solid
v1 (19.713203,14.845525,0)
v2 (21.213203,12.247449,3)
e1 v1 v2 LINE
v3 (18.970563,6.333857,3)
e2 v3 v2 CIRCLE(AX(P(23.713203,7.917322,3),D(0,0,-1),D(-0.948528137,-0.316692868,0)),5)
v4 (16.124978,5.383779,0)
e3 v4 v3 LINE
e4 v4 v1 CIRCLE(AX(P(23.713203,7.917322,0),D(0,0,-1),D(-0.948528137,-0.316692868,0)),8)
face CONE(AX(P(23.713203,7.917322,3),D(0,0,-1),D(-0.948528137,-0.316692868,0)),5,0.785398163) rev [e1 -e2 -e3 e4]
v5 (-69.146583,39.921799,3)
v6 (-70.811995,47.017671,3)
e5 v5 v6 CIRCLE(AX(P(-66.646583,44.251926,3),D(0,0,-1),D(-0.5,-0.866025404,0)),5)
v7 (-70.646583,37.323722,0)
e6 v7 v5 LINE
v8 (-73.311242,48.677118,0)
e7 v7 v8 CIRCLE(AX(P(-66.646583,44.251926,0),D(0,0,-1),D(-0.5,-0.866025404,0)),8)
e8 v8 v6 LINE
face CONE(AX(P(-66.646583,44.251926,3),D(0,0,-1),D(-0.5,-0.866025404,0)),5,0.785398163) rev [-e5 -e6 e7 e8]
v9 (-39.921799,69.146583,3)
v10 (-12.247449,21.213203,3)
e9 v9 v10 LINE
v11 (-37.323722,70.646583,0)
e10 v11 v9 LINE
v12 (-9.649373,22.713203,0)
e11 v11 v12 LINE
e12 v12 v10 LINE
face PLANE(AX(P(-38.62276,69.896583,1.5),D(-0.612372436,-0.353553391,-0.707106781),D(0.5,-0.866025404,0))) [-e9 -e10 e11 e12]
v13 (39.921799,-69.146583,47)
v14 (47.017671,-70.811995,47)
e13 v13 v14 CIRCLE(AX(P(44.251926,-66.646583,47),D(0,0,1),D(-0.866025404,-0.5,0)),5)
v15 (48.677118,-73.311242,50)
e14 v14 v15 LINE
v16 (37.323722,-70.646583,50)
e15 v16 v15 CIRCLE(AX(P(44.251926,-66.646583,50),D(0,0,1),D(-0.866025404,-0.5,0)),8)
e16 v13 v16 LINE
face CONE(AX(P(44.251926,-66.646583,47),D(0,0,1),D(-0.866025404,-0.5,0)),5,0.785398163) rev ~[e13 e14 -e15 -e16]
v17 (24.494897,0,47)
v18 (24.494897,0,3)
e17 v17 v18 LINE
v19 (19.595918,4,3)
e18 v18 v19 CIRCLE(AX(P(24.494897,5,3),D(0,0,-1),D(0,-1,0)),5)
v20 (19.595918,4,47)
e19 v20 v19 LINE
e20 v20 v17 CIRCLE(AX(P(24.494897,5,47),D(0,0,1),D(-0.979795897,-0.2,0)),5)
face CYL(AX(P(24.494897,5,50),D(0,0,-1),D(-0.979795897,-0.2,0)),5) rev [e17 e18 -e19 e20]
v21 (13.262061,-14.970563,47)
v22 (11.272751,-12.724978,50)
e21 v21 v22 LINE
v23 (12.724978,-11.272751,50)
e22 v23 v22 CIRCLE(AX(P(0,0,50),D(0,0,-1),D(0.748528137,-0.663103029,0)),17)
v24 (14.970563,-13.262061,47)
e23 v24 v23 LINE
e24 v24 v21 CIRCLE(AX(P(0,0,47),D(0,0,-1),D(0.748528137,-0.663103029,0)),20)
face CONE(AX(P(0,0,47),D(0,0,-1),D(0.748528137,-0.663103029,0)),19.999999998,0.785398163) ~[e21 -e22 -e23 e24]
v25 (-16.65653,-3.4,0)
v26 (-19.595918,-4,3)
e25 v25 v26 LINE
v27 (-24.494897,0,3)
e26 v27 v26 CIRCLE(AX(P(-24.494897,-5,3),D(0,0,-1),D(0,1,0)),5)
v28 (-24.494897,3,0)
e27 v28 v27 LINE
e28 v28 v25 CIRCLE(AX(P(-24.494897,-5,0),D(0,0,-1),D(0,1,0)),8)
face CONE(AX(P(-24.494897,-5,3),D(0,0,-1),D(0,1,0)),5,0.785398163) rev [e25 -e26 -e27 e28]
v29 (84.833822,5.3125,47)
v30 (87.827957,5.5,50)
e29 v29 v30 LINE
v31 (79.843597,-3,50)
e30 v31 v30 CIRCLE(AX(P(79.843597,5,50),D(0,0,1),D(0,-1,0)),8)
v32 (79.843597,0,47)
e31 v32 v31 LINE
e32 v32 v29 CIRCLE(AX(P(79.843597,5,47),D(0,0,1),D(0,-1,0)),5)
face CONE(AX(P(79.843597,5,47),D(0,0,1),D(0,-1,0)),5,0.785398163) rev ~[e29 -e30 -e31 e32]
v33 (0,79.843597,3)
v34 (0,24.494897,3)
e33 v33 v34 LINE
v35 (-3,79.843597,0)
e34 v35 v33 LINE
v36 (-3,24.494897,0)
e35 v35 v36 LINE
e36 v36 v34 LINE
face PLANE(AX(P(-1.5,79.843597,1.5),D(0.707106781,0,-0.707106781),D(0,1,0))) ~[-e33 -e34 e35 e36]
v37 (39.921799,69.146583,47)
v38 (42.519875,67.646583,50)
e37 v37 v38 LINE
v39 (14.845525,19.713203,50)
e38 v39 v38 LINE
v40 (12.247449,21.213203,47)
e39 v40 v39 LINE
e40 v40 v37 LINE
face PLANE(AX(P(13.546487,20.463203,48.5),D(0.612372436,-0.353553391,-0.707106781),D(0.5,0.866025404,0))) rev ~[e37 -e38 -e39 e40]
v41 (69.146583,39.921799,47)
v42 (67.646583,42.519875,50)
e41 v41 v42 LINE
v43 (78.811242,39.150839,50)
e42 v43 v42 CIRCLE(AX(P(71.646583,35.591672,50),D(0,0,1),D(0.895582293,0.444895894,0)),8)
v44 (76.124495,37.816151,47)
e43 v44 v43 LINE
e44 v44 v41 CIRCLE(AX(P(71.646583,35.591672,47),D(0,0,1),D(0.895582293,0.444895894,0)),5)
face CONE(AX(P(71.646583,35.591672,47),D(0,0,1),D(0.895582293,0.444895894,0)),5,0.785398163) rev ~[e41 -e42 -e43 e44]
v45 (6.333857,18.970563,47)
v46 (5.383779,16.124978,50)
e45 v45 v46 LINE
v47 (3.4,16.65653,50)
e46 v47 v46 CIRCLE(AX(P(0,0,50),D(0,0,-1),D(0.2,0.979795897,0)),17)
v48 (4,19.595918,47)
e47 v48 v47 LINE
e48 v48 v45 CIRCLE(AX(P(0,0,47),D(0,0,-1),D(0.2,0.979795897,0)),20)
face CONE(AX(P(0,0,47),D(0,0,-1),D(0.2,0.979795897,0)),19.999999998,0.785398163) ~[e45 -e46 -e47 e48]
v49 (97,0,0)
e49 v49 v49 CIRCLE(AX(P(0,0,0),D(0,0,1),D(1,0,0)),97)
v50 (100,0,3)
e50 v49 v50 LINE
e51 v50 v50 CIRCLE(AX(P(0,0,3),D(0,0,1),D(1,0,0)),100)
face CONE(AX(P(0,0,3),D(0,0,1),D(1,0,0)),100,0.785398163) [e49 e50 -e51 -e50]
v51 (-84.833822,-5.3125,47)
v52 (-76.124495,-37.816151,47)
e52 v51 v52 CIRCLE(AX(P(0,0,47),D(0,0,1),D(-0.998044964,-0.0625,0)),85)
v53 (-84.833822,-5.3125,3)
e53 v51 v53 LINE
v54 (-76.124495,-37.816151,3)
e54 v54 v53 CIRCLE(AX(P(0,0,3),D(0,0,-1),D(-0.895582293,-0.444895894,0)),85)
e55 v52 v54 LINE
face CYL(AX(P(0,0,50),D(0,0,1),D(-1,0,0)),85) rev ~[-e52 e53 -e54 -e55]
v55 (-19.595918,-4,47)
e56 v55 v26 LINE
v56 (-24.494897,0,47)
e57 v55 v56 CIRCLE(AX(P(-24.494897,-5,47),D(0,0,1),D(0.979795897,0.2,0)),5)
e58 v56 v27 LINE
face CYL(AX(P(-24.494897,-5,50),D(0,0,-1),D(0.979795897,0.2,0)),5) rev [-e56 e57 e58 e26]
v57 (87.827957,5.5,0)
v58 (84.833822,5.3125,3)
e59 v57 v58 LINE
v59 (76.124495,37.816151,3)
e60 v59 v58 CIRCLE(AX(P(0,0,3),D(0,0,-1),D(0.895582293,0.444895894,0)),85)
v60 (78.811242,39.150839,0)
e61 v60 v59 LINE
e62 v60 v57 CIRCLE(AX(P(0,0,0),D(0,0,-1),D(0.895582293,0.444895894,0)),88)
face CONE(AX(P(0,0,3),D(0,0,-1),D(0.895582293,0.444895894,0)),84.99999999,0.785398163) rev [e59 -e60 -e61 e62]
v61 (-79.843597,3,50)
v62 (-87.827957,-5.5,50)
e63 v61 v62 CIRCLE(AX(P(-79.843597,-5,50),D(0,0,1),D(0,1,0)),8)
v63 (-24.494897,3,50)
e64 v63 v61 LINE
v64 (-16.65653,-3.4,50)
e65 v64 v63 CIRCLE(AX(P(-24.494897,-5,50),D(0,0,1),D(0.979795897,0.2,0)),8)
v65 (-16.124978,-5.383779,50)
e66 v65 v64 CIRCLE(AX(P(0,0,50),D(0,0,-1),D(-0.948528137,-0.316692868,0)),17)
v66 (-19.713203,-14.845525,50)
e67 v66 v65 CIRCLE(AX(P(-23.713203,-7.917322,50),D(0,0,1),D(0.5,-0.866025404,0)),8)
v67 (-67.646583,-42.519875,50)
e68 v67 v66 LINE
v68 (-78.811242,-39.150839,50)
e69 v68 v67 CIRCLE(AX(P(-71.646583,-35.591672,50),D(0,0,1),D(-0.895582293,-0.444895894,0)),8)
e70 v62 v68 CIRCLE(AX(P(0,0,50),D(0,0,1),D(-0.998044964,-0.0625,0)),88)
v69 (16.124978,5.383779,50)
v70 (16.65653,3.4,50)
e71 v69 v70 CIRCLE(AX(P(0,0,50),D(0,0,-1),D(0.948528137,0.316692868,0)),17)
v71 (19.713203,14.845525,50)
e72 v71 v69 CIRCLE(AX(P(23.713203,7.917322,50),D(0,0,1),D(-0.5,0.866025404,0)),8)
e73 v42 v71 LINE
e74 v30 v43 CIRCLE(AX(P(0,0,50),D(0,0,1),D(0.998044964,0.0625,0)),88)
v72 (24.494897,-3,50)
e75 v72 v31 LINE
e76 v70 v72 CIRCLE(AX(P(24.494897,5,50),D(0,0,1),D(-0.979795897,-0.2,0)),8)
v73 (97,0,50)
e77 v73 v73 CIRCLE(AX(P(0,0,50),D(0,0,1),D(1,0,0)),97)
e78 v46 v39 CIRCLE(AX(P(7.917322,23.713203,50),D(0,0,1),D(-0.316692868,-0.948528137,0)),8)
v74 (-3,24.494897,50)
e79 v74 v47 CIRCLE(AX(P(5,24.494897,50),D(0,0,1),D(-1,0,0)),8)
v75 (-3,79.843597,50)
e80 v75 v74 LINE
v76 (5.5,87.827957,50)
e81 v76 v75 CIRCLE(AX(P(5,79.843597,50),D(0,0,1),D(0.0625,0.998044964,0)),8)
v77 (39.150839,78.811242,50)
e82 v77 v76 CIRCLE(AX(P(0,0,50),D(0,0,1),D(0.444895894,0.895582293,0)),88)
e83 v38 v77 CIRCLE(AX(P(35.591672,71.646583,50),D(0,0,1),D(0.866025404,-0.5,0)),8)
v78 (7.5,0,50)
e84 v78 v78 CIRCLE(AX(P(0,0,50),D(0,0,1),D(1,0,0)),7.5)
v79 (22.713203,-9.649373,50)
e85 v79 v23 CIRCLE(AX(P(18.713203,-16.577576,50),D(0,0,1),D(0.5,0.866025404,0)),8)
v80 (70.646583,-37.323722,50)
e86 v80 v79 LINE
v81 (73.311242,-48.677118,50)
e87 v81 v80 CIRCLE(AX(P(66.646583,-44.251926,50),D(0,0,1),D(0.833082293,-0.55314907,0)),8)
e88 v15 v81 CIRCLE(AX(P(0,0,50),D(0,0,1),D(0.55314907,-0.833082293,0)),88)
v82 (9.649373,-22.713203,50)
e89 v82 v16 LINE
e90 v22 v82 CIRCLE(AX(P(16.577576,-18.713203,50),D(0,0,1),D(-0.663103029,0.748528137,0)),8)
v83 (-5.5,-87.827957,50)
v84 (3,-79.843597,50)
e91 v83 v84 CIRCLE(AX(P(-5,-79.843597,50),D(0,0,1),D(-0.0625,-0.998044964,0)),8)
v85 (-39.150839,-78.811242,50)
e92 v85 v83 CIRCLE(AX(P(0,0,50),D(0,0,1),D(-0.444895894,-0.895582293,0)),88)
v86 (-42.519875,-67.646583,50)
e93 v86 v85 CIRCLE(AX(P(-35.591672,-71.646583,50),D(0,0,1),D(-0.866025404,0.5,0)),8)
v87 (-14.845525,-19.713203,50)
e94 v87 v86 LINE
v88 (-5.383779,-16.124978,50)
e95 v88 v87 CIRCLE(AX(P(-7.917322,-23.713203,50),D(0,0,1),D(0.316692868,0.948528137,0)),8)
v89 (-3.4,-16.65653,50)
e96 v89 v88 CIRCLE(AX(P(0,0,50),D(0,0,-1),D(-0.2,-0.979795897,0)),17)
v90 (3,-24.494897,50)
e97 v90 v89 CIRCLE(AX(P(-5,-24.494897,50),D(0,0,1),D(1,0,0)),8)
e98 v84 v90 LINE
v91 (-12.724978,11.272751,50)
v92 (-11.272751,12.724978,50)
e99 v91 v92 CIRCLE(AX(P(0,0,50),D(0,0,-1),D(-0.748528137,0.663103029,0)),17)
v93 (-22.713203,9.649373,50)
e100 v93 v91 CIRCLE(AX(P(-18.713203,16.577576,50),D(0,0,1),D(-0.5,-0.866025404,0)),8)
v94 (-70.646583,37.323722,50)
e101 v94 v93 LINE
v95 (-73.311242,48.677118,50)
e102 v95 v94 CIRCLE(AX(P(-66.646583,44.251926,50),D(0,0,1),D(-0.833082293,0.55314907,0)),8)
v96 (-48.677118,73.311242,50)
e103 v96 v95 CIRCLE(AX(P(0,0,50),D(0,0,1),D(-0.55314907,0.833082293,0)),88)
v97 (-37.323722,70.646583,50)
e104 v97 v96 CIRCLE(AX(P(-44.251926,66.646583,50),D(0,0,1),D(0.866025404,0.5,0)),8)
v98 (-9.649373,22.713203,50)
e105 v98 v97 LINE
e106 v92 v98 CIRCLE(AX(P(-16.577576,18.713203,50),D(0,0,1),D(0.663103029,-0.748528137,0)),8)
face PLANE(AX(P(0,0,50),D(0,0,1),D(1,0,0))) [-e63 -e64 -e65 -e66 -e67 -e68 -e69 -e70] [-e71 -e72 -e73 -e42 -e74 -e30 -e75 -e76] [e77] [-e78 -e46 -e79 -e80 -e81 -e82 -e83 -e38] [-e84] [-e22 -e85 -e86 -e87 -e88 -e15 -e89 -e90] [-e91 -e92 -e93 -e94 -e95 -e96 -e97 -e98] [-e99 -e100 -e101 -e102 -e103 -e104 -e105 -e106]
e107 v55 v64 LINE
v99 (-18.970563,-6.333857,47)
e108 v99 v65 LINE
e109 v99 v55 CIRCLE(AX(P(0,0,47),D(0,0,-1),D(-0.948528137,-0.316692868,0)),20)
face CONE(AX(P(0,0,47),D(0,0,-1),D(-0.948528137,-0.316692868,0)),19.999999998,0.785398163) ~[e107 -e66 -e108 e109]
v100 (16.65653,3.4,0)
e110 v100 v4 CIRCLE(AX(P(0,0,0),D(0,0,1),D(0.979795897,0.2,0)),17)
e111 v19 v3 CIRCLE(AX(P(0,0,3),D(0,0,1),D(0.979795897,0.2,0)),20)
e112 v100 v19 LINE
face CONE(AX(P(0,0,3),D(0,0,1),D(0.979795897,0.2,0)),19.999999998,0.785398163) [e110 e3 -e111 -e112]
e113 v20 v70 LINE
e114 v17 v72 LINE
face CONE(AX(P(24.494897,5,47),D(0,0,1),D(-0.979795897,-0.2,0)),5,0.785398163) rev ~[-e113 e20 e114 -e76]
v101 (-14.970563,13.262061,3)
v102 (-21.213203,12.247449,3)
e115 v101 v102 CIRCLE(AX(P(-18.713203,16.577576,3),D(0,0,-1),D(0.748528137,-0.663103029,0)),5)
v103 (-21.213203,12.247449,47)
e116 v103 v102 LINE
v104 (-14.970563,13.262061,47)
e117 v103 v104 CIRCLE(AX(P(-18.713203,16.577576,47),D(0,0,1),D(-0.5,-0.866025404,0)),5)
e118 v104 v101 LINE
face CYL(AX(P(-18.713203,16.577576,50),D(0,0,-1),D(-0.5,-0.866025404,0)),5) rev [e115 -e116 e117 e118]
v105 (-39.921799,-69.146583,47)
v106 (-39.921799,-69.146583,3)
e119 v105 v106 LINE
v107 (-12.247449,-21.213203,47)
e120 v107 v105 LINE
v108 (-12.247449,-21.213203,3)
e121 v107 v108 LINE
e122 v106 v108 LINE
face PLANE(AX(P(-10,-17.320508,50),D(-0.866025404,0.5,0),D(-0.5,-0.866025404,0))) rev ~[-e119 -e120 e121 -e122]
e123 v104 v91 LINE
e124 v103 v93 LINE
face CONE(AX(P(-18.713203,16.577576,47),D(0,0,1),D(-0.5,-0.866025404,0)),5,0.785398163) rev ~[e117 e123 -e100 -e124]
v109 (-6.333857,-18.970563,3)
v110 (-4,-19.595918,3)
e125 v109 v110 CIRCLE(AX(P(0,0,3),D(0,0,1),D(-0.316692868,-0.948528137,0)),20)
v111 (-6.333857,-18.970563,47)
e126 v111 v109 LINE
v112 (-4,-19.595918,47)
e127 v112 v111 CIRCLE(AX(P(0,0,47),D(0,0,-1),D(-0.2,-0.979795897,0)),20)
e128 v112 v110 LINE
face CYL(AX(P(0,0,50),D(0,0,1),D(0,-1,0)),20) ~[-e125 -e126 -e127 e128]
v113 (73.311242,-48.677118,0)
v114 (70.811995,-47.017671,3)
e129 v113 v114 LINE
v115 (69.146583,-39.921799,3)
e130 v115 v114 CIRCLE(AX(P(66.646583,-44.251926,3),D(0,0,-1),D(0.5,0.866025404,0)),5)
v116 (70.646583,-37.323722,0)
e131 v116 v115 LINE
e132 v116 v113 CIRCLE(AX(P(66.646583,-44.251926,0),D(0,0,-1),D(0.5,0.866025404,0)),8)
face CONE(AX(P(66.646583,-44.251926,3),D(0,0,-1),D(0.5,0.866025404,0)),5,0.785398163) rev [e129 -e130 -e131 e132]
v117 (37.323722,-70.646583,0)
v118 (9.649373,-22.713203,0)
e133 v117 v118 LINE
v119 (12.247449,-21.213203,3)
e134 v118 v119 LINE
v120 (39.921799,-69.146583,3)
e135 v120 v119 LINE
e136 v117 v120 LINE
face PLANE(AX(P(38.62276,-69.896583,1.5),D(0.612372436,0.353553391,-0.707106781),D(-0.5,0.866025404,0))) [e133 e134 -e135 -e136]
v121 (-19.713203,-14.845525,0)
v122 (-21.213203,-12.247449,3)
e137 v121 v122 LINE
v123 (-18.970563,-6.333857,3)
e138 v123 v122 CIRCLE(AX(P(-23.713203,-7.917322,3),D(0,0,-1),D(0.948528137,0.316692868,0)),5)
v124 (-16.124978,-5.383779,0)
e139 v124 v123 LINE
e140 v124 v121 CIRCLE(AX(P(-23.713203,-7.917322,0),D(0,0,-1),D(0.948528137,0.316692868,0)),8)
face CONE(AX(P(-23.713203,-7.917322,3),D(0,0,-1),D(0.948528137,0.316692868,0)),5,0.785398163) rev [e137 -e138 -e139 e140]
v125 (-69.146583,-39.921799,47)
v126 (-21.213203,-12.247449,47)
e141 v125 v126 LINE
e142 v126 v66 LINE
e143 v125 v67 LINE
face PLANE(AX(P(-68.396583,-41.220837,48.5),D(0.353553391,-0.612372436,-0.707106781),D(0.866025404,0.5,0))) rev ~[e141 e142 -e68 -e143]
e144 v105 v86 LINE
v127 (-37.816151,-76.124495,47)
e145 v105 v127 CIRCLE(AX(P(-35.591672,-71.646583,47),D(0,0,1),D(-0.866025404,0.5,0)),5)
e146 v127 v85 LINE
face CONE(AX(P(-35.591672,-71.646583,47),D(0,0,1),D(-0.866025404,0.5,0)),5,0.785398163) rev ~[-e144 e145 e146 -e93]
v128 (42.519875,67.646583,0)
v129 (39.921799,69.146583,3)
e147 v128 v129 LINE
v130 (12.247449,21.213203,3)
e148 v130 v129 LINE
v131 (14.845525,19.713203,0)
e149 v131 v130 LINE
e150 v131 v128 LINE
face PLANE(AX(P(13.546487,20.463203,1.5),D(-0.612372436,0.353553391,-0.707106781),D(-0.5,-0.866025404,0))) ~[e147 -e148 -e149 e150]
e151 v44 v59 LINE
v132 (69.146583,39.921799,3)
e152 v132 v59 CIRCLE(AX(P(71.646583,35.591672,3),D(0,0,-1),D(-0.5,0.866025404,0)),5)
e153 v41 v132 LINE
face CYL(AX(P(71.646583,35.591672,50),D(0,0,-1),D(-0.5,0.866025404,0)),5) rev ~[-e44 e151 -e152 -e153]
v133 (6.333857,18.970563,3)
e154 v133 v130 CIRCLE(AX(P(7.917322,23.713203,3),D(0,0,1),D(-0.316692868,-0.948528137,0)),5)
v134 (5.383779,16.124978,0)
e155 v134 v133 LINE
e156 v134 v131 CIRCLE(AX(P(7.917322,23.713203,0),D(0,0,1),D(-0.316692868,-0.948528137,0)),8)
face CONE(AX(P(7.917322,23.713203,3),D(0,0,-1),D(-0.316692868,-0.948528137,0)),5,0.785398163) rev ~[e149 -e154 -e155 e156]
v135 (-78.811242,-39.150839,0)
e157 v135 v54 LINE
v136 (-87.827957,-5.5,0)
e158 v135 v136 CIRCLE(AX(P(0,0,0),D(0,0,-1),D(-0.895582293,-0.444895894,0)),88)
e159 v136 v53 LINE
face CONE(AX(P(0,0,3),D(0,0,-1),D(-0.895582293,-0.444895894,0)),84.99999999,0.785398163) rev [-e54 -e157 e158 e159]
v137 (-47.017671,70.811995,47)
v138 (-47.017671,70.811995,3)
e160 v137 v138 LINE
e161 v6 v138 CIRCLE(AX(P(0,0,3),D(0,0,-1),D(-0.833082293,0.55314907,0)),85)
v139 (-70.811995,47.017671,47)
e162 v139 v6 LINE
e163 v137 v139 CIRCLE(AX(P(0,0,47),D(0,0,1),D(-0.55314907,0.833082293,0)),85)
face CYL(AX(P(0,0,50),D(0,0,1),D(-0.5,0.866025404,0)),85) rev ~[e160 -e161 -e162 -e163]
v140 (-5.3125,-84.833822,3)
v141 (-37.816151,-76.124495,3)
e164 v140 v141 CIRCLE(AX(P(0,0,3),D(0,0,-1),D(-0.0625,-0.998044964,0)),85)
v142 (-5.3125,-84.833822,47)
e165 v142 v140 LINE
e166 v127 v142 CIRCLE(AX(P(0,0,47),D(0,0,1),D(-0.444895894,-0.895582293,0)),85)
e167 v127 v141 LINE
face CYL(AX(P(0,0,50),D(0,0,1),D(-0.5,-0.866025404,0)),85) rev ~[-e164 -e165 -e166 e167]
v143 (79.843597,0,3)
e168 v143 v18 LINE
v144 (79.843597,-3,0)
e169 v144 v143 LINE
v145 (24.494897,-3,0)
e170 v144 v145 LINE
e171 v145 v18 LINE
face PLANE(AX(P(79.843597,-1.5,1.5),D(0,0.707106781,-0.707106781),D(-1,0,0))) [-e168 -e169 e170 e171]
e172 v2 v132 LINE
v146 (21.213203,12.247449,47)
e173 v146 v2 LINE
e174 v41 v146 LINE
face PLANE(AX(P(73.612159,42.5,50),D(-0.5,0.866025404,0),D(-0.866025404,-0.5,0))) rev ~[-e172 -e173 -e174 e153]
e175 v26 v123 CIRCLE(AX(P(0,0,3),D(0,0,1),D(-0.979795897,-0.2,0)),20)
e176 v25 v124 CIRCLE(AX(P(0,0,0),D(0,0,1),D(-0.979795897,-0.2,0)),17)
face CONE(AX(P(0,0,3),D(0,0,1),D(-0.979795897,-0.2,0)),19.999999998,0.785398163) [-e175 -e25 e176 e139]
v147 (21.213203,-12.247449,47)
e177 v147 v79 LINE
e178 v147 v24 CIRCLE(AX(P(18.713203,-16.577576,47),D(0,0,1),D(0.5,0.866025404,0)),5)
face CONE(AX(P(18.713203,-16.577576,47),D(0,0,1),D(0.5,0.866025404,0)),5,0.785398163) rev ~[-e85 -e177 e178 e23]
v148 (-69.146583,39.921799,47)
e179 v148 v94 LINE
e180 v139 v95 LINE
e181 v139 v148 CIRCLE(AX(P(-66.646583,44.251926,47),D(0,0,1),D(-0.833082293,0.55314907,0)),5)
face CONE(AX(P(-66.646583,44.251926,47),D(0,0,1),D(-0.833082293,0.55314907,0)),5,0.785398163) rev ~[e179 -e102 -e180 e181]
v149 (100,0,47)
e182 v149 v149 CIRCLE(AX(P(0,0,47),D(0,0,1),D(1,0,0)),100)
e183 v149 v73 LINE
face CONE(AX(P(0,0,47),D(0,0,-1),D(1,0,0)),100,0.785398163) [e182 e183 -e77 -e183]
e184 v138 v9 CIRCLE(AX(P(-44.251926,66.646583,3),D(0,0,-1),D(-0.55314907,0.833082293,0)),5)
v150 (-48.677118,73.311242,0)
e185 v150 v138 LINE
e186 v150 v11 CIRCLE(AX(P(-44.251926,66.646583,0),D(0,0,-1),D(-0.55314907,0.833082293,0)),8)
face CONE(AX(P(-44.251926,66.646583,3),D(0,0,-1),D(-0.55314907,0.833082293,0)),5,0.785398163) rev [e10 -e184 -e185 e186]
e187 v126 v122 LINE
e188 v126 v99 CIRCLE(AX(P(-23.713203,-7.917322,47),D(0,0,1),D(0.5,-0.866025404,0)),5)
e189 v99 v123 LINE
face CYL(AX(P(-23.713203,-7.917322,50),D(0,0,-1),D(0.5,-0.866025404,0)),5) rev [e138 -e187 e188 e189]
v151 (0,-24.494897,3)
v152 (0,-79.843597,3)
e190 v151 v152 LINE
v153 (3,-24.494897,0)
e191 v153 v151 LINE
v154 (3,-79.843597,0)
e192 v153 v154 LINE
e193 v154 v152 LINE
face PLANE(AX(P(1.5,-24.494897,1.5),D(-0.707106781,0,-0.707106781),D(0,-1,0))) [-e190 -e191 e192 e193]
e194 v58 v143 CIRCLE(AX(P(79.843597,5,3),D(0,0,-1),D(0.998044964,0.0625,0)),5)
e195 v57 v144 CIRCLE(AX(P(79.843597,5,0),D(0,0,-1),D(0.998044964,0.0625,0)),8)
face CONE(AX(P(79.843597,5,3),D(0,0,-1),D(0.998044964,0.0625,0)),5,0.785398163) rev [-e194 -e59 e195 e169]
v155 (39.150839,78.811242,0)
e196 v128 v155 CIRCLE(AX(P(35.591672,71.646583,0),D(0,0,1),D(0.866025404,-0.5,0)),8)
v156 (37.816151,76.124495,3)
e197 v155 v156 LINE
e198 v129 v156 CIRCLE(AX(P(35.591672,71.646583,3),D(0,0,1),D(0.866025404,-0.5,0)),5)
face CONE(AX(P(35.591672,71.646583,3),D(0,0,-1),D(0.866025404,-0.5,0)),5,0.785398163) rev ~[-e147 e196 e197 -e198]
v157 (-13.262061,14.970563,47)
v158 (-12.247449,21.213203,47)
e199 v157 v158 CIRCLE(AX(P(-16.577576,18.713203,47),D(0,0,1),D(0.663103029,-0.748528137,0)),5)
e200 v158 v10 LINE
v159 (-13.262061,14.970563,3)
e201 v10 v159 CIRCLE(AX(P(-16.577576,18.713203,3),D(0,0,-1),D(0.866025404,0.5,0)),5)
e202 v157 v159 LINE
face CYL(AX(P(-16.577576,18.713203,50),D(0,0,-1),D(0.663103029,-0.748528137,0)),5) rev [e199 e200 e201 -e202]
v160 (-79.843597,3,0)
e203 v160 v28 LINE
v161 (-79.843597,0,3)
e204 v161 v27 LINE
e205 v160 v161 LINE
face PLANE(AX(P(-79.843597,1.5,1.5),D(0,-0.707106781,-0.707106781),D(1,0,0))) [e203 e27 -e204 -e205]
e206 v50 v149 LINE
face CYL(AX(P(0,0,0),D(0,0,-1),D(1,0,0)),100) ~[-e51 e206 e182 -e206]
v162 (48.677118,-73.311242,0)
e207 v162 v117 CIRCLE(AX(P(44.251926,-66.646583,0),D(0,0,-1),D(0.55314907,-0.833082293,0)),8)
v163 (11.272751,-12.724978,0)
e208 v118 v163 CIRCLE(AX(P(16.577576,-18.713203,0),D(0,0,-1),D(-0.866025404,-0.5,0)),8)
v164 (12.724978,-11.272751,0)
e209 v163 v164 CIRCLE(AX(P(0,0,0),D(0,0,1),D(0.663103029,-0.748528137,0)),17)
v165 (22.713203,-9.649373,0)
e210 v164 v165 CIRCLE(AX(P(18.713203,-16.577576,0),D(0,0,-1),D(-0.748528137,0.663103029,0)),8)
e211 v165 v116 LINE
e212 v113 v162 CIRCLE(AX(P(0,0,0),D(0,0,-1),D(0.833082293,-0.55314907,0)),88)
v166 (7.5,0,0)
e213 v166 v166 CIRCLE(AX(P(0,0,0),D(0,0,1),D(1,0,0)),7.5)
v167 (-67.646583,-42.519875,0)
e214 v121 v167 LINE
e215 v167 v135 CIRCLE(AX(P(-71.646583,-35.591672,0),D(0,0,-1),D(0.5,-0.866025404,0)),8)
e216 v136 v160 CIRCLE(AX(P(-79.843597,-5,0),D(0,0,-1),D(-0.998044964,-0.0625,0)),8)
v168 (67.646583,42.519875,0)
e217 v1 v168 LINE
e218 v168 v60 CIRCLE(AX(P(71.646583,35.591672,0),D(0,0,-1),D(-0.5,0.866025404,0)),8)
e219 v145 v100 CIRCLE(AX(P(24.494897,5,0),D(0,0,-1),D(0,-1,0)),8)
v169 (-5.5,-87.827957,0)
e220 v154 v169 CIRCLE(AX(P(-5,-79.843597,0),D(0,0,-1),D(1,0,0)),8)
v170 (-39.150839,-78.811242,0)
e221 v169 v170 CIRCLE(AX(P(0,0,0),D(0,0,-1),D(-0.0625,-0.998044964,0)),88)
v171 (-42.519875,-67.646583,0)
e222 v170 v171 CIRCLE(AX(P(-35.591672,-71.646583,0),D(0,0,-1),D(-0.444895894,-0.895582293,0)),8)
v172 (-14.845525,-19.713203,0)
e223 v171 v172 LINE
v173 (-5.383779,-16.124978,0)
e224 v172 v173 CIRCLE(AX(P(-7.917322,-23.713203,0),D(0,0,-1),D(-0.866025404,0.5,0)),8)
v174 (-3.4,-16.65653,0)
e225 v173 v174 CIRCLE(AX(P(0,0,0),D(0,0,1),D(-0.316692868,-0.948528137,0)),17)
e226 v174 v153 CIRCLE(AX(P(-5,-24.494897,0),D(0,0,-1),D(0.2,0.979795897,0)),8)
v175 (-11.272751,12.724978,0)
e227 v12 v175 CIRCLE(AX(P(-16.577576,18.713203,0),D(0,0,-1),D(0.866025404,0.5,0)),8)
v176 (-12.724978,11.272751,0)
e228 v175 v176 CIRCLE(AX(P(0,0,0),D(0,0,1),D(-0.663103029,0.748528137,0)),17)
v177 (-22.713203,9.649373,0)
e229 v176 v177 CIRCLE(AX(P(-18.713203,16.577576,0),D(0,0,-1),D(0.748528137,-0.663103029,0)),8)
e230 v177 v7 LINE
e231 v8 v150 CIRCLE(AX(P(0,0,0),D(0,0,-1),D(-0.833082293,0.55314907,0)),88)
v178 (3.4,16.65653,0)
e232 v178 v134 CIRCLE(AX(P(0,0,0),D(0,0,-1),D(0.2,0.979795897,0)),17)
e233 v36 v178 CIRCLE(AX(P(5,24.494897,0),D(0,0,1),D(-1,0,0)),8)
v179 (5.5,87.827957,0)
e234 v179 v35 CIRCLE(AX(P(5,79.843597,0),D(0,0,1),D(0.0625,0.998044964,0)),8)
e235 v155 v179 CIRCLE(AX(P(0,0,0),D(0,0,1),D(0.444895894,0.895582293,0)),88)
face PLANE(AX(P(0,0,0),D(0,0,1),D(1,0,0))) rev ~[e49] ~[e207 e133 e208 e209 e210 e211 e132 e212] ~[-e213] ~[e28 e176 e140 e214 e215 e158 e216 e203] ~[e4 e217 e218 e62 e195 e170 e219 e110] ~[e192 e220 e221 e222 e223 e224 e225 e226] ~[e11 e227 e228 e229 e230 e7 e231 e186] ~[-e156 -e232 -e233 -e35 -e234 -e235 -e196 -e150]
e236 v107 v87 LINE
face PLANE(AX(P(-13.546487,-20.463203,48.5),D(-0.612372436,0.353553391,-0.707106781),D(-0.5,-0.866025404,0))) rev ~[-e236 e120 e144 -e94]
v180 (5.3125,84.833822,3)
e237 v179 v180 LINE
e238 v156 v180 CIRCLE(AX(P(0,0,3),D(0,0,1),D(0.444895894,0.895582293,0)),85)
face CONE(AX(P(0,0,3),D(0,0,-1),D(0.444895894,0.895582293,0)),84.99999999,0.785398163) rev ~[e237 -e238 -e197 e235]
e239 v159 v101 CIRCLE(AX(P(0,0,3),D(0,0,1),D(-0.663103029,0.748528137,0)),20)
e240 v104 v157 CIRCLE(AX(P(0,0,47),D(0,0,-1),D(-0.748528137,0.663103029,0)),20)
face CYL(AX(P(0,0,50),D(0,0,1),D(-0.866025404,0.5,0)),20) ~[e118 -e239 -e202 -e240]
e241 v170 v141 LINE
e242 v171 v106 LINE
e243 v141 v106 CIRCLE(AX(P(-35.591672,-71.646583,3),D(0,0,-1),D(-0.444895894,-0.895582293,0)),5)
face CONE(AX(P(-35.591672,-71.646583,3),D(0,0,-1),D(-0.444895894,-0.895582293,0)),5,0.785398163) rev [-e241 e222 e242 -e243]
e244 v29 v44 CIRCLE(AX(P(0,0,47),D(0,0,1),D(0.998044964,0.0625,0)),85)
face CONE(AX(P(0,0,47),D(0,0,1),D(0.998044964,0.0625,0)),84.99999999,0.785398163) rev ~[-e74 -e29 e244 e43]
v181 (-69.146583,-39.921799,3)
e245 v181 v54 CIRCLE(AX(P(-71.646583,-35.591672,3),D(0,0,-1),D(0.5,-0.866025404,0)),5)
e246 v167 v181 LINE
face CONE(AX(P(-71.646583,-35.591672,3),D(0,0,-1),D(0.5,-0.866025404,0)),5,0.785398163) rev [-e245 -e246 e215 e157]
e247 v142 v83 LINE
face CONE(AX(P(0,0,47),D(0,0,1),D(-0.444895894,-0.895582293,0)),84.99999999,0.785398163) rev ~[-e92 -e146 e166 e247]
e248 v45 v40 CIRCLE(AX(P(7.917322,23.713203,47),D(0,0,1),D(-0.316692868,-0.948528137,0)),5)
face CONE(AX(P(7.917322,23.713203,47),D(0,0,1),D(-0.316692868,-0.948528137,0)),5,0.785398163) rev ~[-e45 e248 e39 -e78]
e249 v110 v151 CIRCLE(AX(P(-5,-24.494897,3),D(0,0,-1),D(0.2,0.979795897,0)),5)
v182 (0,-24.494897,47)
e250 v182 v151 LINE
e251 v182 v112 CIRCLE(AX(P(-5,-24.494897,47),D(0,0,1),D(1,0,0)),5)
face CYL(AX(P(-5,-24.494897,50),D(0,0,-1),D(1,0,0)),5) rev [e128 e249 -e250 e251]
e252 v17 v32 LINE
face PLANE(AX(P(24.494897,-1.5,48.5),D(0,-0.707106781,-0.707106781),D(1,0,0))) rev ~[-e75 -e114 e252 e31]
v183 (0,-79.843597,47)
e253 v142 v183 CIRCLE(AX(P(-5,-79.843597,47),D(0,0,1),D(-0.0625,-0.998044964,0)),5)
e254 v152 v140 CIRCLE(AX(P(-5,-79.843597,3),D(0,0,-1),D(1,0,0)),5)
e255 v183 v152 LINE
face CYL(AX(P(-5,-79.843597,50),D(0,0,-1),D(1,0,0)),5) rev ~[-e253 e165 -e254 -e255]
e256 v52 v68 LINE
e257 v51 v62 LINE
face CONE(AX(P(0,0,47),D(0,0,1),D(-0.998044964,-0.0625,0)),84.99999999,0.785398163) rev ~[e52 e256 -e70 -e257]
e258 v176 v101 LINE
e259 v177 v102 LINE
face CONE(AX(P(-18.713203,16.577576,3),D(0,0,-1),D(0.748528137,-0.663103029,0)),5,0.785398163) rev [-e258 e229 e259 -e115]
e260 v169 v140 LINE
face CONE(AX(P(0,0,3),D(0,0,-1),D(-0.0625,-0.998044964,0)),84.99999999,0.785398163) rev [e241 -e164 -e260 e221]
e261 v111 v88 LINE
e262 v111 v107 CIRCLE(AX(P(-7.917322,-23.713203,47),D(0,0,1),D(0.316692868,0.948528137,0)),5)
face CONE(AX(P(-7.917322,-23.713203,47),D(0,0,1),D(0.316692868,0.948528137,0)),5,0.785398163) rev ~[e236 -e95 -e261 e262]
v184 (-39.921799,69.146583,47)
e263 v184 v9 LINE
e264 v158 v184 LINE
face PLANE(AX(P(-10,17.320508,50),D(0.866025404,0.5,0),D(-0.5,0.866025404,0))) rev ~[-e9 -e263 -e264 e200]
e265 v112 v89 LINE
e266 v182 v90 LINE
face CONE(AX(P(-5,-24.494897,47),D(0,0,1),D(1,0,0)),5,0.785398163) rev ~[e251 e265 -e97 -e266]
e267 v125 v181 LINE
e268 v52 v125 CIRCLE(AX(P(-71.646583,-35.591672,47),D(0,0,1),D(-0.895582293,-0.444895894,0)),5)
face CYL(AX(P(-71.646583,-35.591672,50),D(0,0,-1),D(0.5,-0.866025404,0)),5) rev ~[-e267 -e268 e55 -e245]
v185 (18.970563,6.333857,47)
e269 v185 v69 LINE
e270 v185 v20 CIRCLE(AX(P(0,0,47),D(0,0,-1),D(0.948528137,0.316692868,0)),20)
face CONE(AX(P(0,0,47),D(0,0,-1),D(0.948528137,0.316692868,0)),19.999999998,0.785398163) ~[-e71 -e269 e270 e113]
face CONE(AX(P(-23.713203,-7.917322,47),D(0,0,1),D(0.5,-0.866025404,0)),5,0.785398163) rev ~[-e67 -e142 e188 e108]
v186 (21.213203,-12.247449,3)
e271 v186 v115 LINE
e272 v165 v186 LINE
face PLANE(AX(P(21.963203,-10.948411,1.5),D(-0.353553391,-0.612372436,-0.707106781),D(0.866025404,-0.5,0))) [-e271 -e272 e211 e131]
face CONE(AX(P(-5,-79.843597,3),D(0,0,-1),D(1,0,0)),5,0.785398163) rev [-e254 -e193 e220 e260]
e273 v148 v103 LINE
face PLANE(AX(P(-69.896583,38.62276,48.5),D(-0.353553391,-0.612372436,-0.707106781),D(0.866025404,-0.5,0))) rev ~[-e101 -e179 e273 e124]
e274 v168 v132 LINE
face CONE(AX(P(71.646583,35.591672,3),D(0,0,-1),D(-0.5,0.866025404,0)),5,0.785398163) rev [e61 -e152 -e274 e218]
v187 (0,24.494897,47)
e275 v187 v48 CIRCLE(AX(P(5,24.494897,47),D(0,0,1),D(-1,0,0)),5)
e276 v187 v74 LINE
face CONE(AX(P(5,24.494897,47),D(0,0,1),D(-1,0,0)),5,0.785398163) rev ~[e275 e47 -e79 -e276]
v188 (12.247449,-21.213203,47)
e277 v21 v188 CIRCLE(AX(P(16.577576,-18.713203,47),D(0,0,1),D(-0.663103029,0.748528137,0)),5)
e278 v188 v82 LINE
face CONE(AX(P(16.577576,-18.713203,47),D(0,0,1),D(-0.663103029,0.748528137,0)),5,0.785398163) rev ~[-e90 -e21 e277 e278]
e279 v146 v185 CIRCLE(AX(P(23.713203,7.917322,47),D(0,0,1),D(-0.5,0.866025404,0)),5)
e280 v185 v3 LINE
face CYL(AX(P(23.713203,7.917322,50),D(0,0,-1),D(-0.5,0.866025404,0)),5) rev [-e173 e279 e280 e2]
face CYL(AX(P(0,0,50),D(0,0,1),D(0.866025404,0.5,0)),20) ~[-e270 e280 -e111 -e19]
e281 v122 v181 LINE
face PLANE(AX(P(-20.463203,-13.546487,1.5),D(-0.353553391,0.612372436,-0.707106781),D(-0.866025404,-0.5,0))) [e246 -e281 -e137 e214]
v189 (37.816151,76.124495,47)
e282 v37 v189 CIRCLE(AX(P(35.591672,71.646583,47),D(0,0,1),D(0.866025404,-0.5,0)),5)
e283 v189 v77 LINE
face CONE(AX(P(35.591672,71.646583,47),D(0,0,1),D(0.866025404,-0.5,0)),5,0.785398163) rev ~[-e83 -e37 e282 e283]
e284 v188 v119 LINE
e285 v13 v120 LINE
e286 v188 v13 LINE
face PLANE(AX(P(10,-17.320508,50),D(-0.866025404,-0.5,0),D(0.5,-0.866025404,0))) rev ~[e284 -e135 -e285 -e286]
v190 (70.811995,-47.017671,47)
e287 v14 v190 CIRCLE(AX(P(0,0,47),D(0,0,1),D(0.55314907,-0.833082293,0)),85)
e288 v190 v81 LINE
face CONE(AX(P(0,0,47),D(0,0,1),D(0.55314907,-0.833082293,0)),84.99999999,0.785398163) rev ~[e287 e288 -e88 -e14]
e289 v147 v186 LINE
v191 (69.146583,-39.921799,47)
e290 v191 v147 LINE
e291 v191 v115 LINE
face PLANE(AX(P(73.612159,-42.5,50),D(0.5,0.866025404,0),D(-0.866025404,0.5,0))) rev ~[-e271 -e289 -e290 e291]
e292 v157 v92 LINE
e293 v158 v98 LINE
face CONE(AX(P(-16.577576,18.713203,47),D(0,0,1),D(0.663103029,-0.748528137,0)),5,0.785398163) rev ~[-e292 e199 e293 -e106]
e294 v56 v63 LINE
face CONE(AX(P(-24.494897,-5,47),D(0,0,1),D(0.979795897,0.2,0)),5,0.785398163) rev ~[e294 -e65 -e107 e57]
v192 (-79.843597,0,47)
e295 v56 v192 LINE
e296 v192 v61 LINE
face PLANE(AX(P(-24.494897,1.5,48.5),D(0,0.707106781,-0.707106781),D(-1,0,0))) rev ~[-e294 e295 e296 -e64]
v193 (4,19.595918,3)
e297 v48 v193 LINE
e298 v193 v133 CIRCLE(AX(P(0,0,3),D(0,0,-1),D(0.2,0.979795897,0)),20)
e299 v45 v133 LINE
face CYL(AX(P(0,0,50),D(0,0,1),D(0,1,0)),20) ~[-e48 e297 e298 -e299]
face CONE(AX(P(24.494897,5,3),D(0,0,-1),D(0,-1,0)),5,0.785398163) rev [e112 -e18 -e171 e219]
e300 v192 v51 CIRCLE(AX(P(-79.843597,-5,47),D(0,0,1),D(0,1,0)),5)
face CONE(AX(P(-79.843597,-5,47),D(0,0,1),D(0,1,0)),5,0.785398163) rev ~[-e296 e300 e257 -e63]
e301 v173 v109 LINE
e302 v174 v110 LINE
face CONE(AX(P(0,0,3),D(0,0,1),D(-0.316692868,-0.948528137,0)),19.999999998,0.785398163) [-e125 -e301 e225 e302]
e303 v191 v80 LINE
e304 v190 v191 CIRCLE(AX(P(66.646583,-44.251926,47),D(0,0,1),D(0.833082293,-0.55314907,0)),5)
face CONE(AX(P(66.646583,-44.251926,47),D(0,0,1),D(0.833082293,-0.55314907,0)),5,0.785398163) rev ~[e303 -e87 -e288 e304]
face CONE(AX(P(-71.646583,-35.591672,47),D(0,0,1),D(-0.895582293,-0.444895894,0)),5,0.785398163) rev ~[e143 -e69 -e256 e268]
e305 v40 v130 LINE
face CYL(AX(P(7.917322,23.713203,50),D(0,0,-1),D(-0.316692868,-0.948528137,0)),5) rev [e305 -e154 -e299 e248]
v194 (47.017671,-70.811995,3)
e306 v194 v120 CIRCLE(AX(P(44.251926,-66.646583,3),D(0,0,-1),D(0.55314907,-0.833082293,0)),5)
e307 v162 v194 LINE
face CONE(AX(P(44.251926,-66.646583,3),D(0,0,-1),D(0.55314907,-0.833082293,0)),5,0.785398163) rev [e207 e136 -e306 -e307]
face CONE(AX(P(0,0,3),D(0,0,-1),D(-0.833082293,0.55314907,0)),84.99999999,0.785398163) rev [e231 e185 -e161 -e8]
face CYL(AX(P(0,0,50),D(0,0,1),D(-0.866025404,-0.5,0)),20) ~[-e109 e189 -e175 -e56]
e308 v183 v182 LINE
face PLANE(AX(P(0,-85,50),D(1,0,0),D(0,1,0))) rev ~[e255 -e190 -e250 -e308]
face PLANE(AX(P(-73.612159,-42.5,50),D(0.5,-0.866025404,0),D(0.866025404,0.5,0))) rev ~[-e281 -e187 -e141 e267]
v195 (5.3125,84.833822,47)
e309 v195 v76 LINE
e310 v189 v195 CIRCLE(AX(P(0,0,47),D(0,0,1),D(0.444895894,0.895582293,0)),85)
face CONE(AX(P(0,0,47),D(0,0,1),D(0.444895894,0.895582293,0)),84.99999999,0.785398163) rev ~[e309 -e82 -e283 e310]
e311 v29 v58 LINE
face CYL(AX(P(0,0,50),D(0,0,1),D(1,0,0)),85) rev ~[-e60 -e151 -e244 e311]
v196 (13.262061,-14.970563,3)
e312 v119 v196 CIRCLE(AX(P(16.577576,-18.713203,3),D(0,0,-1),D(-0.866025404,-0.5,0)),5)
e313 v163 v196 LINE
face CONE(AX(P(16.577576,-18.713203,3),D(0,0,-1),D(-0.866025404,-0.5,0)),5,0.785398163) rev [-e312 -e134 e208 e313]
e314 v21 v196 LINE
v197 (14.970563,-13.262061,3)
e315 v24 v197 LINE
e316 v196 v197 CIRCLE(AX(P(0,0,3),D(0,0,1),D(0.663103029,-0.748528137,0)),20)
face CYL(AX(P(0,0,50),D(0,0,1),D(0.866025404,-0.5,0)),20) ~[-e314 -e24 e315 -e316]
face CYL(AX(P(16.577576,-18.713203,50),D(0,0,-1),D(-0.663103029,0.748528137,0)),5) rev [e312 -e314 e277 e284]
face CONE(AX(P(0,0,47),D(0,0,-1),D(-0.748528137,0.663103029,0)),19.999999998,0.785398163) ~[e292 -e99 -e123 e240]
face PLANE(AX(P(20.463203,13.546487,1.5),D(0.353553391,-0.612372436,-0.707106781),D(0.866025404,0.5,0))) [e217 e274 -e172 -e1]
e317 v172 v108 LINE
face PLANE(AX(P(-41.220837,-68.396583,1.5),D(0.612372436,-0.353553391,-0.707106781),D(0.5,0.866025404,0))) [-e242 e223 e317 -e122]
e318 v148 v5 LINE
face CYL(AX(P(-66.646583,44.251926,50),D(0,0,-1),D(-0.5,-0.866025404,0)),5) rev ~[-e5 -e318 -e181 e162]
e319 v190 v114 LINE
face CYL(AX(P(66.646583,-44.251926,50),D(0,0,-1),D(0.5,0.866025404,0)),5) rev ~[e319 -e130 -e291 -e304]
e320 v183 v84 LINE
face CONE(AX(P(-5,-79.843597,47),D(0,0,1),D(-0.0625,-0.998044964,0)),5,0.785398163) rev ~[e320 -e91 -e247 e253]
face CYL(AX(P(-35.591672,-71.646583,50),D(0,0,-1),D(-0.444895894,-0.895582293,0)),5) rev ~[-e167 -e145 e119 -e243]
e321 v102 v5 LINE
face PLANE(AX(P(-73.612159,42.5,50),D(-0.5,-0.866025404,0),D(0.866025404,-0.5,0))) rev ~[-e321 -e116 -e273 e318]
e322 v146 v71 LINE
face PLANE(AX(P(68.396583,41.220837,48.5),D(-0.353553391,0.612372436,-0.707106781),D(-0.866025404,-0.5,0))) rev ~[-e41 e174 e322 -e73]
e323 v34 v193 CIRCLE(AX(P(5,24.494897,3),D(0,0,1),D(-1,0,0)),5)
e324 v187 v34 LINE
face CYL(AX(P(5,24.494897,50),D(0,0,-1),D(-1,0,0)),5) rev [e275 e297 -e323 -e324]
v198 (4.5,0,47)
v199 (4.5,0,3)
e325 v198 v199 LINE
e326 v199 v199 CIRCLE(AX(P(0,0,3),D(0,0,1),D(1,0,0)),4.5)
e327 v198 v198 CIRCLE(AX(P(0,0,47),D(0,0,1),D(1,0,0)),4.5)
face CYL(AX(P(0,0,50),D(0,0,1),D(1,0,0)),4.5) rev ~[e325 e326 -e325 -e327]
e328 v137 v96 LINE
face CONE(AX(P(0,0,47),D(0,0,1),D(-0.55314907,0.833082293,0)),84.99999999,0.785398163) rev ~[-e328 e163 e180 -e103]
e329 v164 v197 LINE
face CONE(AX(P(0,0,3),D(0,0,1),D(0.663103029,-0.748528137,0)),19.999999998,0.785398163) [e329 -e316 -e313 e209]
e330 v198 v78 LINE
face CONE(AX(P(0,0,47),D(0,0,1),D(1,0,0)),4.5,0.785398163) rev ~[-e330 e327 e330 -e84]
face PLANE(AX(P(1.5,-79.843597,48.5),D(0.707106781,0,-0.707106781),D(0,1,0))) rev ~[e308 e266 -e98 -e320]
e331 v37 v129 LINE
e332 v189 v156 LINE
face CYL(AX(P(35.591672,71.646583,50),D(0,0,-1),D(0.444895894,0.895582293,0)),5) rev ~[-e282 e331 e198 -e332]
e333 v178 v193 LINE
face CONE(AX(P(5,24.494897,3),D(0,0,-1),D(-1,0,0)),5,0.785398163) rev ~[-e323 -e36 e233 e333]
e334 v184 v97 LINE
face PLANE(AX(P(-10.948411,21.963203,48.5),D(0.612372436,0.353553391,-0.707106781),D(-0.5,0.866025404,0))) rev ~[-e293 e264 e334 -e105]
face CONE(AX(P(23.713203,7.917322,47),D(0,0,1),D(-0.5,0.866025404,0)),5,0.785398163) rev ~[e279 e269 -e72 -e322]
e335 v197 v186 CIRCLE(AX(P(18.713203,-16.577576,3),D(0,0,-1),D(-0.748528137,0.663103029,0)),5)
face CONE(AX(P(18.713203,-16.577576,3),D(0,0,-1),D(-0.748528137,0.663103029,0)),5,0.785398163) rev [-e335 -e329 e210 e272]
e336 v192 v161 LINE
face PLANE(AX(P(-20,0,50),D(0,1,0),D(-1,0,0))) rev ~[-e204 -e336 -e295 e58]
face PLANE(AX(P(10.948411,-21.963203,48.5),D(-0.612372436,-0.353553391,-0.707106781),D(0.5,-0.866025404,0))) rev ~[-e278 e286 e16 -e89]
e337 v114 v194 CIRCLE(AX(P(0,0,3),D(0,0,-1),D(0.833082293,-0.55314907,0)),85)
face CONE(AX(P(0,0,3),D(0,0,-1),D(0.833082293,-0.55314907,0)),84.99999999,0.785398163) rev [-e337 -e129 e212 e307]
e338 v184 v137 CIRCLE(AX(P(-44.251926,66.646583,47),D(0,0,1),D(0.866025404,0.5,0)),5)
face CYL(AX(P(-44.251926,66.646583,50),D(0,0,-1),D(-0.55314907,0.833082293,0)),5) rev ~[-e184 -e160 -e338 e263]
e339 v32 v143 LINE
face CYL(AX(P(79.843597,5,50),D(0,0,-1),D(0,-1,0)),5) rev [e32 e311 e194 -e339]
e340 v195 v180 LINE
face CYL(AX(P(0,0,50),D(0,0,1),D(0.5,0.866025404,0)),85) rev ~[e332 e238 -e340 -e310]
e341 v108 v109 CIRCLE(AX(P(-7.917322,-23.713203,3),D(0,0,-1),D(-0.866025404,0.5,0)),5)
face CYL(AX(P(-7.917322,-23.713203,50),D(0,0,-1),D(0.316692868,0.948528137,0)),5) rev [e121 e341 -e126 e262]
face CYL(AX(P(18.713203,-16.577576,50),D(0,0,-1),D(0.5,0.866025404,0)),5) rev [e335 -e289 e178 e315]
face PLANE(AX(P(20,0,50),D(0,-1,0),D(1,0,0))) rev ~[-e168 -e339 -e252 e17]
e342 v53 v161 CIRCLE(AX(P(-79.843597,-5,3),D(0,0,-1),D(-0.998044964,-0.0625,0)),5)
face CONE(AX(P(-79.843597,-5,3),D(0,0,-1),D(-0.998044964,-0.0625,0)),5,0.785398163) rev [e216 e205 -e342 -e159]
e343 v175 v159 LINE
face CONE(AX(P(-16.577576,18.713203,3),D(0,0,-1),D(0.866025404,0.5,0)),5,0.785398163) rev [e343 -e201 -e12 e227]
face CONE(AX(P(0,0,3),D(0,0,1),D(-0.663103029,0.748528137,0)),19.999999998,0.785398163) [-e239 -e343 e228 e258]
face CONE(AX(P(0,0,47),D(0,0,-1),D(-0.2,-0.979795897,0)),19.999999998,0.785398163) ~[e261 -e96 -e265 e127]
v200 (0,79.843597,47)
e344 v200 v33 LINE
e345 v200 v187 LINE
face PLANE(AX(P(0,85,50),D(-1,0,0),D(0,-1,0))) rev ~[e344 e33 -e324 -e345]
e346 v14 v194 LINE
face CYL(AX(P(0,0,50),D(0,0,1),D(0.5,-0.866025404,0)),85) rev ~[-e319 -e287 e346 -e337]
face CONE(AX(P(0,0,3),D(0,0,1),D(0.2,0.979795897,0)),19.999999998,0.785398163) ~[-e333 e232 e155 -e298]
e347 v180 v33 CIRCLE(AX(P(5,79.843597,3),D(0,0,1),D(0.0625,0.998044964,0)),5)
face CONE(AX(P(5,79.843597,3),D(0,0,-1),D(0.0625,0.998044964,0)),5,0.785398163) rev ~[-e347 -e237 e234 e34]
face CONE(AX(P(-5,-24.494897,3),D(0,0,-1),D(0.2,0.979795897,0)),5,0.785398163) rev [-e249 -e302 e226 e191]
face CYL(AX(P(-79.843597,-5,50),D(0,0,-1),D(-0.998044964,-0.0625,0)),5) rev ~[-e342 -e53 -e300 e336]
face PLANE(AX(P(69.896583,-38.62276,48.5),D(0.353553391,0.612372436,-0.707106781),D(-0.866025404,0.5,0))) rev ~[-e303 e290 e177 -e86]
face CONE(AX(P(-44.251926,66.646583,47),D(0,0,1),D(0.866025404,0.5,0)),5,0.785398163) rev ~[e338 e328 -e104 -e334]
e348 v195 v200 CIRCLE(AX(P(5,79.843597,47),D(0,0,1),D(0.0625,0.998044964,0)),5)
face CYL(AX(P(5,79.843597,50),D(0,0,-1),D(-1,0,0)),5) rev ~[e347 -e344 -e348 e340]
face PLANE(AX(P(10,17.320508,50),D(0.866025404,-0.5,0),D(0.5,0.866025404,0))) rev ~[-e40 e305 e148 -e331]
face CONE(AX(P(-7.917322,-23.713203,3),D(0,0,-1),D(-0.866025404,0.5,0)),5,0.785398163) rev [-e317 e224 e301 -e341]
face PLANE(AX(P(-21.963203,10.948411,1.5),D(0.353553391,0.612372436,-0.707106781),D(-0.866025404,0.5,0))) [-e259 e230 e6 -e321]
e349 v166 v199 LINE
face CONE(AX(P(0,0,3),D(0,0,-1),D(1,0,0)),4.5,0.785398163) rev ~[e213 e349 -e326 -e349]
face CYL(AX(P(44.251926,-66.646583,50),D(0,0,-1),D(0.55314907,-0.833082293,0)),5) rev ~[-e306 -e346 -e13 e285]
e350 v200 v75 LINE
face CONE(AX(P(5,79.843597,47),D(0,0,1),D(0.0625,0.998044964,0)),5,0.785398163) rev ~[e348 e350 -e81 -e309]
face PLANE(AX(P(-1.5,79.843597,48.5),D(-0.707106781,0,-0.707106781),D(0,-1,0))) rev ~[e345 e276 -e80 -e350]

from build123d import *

# Parameters (mm, degrees)
SKETCH1_R           = 100
BOSS_EXTRUDE1_DEPTH = 50
CUT_EXTRUDE1_DEPTH  = 151
CIRPATTERN1_COUNT   = 6
FILLET1_R           = 5
SKETCH3_R           = 4.5
CUT_EXTRUDE2_DEPTH  = 151
CHAMFER1_SIZE       = 3


with BuildPart() as part:
    # Sketch1 → Boss-Extrude1 (new body)
    with BuildSketch(Plane.XY):
        Circle(SKETCH1_R)
    extrude(amount=BOSS_EXTRUDE1_DEPTH)

    # Sketch2 → Cut-Extrude1 (cut, through all)
    with BuildSketch(Plane.XY.offset(50)):
        with BuildLine():
            Line((0, 85), (0, 20))
            ThreePointArc((0, 20), (5.176380902, 19.318516526), (10, 17.320508076))
            Line((10, 17.320508076), (42.5, 73.612159322))
            ThreePointArc((42.5, 73.612159322), (21.999618834, 82.103695235), (0, 85))
        make_face()
    cut_extrude1 = extrude(amount=-CUT_EXTRUDE1_DEPTH, mode=Mode.SUBTRACT)

    # CirPattern1: Cut-Extrude1 ×6 about axis
    cirpattern1_axis = Axis((0, 0, 0), (0, 0, 1))
    for i in range(1, CIRPATTERN1_COUNT):
        add(cut_extrude1.rotate(cirpattern1_axis, i * 360 / CIRPATTERN1_COUNT), mode=Mode.SUBTRACT)

    # Fillet1
    fillet1_edges = [part.edges().sort_by_distance(p)[0] for p in [
        (42.5, 73.612159322, 25),
        (10, 17.320508076, 25),
        (0, 20, 25),
        (0, 85, 25),
        (85, 0, 25),
        (20, 0, 25),
        (17.320508076, 10, 25),
        (73.612159322, 42.5, 25),
        (42.5, -73.612159322, 25),
        (10, -17.320508076, 25),
        (17.320508076, -10, 25),
        (73.612159322, -42.5, 25),
        (-85, 0, 25),
        (-20, 0, 25),
        (-17.320508076, -10, 25),
        (-73.612159322, -42.5, 25),
        (-42.5, -73.612159322, 25),
        (-10, -17.320508076, 25),
        (0, -20, 25),
        (0, -85, 25),
        (-42.5, 73.612159322, 25),
        (-10, 17.320508076, 25),
        (-17.320508076, 10, 25),
        (-73.612159322, 42.5, 25),
    ]]
    fillet(fillet1_edges, radius=FILLET1_R)

    # Sketch3 → Cut-Extrude2 (cut, through all)
    with BuildSketch(Plane.XY.offset(50)):
        Circle(SKETCH3_R)
    extrude(amount=-CUT_EXTRUDE2_DEPTH, mode=Mode.SUBTRACT)

    # Chamfer1
    chamfer1_edges = [part.edges().sort_by_distance(p)[0] for p in [
        (21.999618834, 82.103695235, 50),
        (21.999618834, 82.103695235, 0),
        (26.084623635, 45.179893433, 50),
        (26.084623635, 45.179893433, 0),
        (5.176380902, 19.318516526, 50),
        (5.176380902, 19.318516526, 0),
        (-14.142135624, 14.142135624, 50),
        (-14.142135624, 14.142135624, 0),
        (-45.179893433, 26.084623635, 50),
        (-45.179893433, 26.084623635, 0),
        (-60.104076401, 60.104076401, 50),
        (-60.104076401, 60.104076401, 0),
        (-26.084623635, 45.179893433, 50),
        (-26.084623635, 45.179893433, 0),
        (-5.176380902, -19.318516526, 50),
        (-5.176380902, -19.318516526, 0),
        (0, -52.169247271, 50),
        (0, -52.169247271, 0),
        (-21.999618834, -82.103695235, 50),
        (-21.999618834, -82.103695235, 0),
        (-26.084623635, -45.179893433, 50),
        (-26.084623635, -45.179893433, 0),
        (-19.318516526, -5.176380902, 50),
        (-19.318516526, -5.176380902, 0),
        (-45.179893433, -26.084623635, 50),
        (-45.179893433, -26.084623635, 0),
        (-82.103695235, -21.999618834, 50),
        (-82.103695235, -21.999618834, 0),
        (-52.169247271, 0, 50),
        (-52.169247271, 0, 0),
        (14.142135624, -14.142135624, 50),
        (14.142135624, -14.142135624, 0),
        (45.179893433, -26.084623635, 50),
        (45.179893433, -26.084623635, 0),
        (60.104076401, -60.104076401, 50),
        (60.104076401, -60.104076401, 0),
        (26.084623635, -45.179893433, 50),
        (26.084623635, -45.179893433, 0),
        (19.318516526, 5.176380902, 50),
        (19.318516526, 5.176380902, 0),
        (45.179893433, 26.084623635, 50),
        (45.179893433, 26.084623635, 0),
        (82.103695235, 21.999618834, 50),
        (82.103695235, 21.999618834, 0),
        (52.169247271, 0, 50),
        (52.169247271, 0, 0),
        (1.576734016, 83.487942048, 50),
        (1.576734016, 83.487942048, 0),
        (40.378479311, 73.091045731, 50),
        (40.378479311, 73.091045731, 0),
        (9.690284831, 19.038098975, 50),
        (9.690284831, 19.038098975, 0),
        (-17.911082321, 11.642334937, 50),
        (-17.911082321, 11.642334937, 0),
        (-71.514311715, 43.109462736, 50),
        (-71.514311715, 43.109462736, 0),
        (-43.109462736, 71.514311715, 50),
        (-43.109462736, 71.514311715, 0),
        (-11.642334937, 17.911082321, 50),
        (-11.642334937, 17.911082321, 0),
        (-1.127016654, -21.332619768, 50),
        (-1.127016654, -21.332619768, 0),
        (-1.576734016, -83.487942048, 50),
        (-1.576734016, -83.487942048, 0),
        (-40.378479311, -73.091045731, 50),
        (-40.378479311, -73.091045731, 0),
        (-9.690284831, -19.038098975, 50),
        (-9.690284831, -19.038098975, 0),
        (-19.038098975, -9.690284831, 50),
        (-19.038098975, -9.690284831, 0),
        (-73.091045731, -40.378479311, 50),
        (-73.091045731, -40.378479311, 0),
        (-83.487942048, -1.576734016, 50),
        (-83.487942048, -1.576734016, 0),
        (-21.332619768, -1.127016654, 50),
        (-21.332619768, -1.127016654, 0),
        (17.911082321, -11.642334937, 50),
        (17.911082321, -11.642334937, 0),
        (71.514311715, -43.109462736, 50),
        (71.514311715, -43.109462736, 0),
        (43.109462736, -71.514311715, 50),
        (43.109462736, -71.514311715, 0),
        (11.642334937, -17.911082321, 50),
        (11.642334937, -17.911082321, 0),
        (19.038098975, 9.690284831, 50),
        (19.038098975, 9.690284831, 0),
        (73.091045731, 40.378479311, 50),
        (73.091045731, 40.378479311, 0),
        (83.487942048, 1.576734016, 50),
        (83.487942048, 1.576734016, 0),
        (21.332619768, 1.127016654, 50),
        (21.332619768, 1.127016654, 0),
        (1.127016654, 21.332619768, 50),
        (1.127016654, 21.332619768, 0),
        (-100, 0, 0),
        (-4.5, 0, 0),
        (-4.5, 0, 50),
        (-100, 0, 50),
        (0, 52.169247271, 50),
        (0, 52.169247271, 0),
    ]]
    chamfer(chamfer1_edges, length=CHAMFER1_SIZE)


solid = part.part
